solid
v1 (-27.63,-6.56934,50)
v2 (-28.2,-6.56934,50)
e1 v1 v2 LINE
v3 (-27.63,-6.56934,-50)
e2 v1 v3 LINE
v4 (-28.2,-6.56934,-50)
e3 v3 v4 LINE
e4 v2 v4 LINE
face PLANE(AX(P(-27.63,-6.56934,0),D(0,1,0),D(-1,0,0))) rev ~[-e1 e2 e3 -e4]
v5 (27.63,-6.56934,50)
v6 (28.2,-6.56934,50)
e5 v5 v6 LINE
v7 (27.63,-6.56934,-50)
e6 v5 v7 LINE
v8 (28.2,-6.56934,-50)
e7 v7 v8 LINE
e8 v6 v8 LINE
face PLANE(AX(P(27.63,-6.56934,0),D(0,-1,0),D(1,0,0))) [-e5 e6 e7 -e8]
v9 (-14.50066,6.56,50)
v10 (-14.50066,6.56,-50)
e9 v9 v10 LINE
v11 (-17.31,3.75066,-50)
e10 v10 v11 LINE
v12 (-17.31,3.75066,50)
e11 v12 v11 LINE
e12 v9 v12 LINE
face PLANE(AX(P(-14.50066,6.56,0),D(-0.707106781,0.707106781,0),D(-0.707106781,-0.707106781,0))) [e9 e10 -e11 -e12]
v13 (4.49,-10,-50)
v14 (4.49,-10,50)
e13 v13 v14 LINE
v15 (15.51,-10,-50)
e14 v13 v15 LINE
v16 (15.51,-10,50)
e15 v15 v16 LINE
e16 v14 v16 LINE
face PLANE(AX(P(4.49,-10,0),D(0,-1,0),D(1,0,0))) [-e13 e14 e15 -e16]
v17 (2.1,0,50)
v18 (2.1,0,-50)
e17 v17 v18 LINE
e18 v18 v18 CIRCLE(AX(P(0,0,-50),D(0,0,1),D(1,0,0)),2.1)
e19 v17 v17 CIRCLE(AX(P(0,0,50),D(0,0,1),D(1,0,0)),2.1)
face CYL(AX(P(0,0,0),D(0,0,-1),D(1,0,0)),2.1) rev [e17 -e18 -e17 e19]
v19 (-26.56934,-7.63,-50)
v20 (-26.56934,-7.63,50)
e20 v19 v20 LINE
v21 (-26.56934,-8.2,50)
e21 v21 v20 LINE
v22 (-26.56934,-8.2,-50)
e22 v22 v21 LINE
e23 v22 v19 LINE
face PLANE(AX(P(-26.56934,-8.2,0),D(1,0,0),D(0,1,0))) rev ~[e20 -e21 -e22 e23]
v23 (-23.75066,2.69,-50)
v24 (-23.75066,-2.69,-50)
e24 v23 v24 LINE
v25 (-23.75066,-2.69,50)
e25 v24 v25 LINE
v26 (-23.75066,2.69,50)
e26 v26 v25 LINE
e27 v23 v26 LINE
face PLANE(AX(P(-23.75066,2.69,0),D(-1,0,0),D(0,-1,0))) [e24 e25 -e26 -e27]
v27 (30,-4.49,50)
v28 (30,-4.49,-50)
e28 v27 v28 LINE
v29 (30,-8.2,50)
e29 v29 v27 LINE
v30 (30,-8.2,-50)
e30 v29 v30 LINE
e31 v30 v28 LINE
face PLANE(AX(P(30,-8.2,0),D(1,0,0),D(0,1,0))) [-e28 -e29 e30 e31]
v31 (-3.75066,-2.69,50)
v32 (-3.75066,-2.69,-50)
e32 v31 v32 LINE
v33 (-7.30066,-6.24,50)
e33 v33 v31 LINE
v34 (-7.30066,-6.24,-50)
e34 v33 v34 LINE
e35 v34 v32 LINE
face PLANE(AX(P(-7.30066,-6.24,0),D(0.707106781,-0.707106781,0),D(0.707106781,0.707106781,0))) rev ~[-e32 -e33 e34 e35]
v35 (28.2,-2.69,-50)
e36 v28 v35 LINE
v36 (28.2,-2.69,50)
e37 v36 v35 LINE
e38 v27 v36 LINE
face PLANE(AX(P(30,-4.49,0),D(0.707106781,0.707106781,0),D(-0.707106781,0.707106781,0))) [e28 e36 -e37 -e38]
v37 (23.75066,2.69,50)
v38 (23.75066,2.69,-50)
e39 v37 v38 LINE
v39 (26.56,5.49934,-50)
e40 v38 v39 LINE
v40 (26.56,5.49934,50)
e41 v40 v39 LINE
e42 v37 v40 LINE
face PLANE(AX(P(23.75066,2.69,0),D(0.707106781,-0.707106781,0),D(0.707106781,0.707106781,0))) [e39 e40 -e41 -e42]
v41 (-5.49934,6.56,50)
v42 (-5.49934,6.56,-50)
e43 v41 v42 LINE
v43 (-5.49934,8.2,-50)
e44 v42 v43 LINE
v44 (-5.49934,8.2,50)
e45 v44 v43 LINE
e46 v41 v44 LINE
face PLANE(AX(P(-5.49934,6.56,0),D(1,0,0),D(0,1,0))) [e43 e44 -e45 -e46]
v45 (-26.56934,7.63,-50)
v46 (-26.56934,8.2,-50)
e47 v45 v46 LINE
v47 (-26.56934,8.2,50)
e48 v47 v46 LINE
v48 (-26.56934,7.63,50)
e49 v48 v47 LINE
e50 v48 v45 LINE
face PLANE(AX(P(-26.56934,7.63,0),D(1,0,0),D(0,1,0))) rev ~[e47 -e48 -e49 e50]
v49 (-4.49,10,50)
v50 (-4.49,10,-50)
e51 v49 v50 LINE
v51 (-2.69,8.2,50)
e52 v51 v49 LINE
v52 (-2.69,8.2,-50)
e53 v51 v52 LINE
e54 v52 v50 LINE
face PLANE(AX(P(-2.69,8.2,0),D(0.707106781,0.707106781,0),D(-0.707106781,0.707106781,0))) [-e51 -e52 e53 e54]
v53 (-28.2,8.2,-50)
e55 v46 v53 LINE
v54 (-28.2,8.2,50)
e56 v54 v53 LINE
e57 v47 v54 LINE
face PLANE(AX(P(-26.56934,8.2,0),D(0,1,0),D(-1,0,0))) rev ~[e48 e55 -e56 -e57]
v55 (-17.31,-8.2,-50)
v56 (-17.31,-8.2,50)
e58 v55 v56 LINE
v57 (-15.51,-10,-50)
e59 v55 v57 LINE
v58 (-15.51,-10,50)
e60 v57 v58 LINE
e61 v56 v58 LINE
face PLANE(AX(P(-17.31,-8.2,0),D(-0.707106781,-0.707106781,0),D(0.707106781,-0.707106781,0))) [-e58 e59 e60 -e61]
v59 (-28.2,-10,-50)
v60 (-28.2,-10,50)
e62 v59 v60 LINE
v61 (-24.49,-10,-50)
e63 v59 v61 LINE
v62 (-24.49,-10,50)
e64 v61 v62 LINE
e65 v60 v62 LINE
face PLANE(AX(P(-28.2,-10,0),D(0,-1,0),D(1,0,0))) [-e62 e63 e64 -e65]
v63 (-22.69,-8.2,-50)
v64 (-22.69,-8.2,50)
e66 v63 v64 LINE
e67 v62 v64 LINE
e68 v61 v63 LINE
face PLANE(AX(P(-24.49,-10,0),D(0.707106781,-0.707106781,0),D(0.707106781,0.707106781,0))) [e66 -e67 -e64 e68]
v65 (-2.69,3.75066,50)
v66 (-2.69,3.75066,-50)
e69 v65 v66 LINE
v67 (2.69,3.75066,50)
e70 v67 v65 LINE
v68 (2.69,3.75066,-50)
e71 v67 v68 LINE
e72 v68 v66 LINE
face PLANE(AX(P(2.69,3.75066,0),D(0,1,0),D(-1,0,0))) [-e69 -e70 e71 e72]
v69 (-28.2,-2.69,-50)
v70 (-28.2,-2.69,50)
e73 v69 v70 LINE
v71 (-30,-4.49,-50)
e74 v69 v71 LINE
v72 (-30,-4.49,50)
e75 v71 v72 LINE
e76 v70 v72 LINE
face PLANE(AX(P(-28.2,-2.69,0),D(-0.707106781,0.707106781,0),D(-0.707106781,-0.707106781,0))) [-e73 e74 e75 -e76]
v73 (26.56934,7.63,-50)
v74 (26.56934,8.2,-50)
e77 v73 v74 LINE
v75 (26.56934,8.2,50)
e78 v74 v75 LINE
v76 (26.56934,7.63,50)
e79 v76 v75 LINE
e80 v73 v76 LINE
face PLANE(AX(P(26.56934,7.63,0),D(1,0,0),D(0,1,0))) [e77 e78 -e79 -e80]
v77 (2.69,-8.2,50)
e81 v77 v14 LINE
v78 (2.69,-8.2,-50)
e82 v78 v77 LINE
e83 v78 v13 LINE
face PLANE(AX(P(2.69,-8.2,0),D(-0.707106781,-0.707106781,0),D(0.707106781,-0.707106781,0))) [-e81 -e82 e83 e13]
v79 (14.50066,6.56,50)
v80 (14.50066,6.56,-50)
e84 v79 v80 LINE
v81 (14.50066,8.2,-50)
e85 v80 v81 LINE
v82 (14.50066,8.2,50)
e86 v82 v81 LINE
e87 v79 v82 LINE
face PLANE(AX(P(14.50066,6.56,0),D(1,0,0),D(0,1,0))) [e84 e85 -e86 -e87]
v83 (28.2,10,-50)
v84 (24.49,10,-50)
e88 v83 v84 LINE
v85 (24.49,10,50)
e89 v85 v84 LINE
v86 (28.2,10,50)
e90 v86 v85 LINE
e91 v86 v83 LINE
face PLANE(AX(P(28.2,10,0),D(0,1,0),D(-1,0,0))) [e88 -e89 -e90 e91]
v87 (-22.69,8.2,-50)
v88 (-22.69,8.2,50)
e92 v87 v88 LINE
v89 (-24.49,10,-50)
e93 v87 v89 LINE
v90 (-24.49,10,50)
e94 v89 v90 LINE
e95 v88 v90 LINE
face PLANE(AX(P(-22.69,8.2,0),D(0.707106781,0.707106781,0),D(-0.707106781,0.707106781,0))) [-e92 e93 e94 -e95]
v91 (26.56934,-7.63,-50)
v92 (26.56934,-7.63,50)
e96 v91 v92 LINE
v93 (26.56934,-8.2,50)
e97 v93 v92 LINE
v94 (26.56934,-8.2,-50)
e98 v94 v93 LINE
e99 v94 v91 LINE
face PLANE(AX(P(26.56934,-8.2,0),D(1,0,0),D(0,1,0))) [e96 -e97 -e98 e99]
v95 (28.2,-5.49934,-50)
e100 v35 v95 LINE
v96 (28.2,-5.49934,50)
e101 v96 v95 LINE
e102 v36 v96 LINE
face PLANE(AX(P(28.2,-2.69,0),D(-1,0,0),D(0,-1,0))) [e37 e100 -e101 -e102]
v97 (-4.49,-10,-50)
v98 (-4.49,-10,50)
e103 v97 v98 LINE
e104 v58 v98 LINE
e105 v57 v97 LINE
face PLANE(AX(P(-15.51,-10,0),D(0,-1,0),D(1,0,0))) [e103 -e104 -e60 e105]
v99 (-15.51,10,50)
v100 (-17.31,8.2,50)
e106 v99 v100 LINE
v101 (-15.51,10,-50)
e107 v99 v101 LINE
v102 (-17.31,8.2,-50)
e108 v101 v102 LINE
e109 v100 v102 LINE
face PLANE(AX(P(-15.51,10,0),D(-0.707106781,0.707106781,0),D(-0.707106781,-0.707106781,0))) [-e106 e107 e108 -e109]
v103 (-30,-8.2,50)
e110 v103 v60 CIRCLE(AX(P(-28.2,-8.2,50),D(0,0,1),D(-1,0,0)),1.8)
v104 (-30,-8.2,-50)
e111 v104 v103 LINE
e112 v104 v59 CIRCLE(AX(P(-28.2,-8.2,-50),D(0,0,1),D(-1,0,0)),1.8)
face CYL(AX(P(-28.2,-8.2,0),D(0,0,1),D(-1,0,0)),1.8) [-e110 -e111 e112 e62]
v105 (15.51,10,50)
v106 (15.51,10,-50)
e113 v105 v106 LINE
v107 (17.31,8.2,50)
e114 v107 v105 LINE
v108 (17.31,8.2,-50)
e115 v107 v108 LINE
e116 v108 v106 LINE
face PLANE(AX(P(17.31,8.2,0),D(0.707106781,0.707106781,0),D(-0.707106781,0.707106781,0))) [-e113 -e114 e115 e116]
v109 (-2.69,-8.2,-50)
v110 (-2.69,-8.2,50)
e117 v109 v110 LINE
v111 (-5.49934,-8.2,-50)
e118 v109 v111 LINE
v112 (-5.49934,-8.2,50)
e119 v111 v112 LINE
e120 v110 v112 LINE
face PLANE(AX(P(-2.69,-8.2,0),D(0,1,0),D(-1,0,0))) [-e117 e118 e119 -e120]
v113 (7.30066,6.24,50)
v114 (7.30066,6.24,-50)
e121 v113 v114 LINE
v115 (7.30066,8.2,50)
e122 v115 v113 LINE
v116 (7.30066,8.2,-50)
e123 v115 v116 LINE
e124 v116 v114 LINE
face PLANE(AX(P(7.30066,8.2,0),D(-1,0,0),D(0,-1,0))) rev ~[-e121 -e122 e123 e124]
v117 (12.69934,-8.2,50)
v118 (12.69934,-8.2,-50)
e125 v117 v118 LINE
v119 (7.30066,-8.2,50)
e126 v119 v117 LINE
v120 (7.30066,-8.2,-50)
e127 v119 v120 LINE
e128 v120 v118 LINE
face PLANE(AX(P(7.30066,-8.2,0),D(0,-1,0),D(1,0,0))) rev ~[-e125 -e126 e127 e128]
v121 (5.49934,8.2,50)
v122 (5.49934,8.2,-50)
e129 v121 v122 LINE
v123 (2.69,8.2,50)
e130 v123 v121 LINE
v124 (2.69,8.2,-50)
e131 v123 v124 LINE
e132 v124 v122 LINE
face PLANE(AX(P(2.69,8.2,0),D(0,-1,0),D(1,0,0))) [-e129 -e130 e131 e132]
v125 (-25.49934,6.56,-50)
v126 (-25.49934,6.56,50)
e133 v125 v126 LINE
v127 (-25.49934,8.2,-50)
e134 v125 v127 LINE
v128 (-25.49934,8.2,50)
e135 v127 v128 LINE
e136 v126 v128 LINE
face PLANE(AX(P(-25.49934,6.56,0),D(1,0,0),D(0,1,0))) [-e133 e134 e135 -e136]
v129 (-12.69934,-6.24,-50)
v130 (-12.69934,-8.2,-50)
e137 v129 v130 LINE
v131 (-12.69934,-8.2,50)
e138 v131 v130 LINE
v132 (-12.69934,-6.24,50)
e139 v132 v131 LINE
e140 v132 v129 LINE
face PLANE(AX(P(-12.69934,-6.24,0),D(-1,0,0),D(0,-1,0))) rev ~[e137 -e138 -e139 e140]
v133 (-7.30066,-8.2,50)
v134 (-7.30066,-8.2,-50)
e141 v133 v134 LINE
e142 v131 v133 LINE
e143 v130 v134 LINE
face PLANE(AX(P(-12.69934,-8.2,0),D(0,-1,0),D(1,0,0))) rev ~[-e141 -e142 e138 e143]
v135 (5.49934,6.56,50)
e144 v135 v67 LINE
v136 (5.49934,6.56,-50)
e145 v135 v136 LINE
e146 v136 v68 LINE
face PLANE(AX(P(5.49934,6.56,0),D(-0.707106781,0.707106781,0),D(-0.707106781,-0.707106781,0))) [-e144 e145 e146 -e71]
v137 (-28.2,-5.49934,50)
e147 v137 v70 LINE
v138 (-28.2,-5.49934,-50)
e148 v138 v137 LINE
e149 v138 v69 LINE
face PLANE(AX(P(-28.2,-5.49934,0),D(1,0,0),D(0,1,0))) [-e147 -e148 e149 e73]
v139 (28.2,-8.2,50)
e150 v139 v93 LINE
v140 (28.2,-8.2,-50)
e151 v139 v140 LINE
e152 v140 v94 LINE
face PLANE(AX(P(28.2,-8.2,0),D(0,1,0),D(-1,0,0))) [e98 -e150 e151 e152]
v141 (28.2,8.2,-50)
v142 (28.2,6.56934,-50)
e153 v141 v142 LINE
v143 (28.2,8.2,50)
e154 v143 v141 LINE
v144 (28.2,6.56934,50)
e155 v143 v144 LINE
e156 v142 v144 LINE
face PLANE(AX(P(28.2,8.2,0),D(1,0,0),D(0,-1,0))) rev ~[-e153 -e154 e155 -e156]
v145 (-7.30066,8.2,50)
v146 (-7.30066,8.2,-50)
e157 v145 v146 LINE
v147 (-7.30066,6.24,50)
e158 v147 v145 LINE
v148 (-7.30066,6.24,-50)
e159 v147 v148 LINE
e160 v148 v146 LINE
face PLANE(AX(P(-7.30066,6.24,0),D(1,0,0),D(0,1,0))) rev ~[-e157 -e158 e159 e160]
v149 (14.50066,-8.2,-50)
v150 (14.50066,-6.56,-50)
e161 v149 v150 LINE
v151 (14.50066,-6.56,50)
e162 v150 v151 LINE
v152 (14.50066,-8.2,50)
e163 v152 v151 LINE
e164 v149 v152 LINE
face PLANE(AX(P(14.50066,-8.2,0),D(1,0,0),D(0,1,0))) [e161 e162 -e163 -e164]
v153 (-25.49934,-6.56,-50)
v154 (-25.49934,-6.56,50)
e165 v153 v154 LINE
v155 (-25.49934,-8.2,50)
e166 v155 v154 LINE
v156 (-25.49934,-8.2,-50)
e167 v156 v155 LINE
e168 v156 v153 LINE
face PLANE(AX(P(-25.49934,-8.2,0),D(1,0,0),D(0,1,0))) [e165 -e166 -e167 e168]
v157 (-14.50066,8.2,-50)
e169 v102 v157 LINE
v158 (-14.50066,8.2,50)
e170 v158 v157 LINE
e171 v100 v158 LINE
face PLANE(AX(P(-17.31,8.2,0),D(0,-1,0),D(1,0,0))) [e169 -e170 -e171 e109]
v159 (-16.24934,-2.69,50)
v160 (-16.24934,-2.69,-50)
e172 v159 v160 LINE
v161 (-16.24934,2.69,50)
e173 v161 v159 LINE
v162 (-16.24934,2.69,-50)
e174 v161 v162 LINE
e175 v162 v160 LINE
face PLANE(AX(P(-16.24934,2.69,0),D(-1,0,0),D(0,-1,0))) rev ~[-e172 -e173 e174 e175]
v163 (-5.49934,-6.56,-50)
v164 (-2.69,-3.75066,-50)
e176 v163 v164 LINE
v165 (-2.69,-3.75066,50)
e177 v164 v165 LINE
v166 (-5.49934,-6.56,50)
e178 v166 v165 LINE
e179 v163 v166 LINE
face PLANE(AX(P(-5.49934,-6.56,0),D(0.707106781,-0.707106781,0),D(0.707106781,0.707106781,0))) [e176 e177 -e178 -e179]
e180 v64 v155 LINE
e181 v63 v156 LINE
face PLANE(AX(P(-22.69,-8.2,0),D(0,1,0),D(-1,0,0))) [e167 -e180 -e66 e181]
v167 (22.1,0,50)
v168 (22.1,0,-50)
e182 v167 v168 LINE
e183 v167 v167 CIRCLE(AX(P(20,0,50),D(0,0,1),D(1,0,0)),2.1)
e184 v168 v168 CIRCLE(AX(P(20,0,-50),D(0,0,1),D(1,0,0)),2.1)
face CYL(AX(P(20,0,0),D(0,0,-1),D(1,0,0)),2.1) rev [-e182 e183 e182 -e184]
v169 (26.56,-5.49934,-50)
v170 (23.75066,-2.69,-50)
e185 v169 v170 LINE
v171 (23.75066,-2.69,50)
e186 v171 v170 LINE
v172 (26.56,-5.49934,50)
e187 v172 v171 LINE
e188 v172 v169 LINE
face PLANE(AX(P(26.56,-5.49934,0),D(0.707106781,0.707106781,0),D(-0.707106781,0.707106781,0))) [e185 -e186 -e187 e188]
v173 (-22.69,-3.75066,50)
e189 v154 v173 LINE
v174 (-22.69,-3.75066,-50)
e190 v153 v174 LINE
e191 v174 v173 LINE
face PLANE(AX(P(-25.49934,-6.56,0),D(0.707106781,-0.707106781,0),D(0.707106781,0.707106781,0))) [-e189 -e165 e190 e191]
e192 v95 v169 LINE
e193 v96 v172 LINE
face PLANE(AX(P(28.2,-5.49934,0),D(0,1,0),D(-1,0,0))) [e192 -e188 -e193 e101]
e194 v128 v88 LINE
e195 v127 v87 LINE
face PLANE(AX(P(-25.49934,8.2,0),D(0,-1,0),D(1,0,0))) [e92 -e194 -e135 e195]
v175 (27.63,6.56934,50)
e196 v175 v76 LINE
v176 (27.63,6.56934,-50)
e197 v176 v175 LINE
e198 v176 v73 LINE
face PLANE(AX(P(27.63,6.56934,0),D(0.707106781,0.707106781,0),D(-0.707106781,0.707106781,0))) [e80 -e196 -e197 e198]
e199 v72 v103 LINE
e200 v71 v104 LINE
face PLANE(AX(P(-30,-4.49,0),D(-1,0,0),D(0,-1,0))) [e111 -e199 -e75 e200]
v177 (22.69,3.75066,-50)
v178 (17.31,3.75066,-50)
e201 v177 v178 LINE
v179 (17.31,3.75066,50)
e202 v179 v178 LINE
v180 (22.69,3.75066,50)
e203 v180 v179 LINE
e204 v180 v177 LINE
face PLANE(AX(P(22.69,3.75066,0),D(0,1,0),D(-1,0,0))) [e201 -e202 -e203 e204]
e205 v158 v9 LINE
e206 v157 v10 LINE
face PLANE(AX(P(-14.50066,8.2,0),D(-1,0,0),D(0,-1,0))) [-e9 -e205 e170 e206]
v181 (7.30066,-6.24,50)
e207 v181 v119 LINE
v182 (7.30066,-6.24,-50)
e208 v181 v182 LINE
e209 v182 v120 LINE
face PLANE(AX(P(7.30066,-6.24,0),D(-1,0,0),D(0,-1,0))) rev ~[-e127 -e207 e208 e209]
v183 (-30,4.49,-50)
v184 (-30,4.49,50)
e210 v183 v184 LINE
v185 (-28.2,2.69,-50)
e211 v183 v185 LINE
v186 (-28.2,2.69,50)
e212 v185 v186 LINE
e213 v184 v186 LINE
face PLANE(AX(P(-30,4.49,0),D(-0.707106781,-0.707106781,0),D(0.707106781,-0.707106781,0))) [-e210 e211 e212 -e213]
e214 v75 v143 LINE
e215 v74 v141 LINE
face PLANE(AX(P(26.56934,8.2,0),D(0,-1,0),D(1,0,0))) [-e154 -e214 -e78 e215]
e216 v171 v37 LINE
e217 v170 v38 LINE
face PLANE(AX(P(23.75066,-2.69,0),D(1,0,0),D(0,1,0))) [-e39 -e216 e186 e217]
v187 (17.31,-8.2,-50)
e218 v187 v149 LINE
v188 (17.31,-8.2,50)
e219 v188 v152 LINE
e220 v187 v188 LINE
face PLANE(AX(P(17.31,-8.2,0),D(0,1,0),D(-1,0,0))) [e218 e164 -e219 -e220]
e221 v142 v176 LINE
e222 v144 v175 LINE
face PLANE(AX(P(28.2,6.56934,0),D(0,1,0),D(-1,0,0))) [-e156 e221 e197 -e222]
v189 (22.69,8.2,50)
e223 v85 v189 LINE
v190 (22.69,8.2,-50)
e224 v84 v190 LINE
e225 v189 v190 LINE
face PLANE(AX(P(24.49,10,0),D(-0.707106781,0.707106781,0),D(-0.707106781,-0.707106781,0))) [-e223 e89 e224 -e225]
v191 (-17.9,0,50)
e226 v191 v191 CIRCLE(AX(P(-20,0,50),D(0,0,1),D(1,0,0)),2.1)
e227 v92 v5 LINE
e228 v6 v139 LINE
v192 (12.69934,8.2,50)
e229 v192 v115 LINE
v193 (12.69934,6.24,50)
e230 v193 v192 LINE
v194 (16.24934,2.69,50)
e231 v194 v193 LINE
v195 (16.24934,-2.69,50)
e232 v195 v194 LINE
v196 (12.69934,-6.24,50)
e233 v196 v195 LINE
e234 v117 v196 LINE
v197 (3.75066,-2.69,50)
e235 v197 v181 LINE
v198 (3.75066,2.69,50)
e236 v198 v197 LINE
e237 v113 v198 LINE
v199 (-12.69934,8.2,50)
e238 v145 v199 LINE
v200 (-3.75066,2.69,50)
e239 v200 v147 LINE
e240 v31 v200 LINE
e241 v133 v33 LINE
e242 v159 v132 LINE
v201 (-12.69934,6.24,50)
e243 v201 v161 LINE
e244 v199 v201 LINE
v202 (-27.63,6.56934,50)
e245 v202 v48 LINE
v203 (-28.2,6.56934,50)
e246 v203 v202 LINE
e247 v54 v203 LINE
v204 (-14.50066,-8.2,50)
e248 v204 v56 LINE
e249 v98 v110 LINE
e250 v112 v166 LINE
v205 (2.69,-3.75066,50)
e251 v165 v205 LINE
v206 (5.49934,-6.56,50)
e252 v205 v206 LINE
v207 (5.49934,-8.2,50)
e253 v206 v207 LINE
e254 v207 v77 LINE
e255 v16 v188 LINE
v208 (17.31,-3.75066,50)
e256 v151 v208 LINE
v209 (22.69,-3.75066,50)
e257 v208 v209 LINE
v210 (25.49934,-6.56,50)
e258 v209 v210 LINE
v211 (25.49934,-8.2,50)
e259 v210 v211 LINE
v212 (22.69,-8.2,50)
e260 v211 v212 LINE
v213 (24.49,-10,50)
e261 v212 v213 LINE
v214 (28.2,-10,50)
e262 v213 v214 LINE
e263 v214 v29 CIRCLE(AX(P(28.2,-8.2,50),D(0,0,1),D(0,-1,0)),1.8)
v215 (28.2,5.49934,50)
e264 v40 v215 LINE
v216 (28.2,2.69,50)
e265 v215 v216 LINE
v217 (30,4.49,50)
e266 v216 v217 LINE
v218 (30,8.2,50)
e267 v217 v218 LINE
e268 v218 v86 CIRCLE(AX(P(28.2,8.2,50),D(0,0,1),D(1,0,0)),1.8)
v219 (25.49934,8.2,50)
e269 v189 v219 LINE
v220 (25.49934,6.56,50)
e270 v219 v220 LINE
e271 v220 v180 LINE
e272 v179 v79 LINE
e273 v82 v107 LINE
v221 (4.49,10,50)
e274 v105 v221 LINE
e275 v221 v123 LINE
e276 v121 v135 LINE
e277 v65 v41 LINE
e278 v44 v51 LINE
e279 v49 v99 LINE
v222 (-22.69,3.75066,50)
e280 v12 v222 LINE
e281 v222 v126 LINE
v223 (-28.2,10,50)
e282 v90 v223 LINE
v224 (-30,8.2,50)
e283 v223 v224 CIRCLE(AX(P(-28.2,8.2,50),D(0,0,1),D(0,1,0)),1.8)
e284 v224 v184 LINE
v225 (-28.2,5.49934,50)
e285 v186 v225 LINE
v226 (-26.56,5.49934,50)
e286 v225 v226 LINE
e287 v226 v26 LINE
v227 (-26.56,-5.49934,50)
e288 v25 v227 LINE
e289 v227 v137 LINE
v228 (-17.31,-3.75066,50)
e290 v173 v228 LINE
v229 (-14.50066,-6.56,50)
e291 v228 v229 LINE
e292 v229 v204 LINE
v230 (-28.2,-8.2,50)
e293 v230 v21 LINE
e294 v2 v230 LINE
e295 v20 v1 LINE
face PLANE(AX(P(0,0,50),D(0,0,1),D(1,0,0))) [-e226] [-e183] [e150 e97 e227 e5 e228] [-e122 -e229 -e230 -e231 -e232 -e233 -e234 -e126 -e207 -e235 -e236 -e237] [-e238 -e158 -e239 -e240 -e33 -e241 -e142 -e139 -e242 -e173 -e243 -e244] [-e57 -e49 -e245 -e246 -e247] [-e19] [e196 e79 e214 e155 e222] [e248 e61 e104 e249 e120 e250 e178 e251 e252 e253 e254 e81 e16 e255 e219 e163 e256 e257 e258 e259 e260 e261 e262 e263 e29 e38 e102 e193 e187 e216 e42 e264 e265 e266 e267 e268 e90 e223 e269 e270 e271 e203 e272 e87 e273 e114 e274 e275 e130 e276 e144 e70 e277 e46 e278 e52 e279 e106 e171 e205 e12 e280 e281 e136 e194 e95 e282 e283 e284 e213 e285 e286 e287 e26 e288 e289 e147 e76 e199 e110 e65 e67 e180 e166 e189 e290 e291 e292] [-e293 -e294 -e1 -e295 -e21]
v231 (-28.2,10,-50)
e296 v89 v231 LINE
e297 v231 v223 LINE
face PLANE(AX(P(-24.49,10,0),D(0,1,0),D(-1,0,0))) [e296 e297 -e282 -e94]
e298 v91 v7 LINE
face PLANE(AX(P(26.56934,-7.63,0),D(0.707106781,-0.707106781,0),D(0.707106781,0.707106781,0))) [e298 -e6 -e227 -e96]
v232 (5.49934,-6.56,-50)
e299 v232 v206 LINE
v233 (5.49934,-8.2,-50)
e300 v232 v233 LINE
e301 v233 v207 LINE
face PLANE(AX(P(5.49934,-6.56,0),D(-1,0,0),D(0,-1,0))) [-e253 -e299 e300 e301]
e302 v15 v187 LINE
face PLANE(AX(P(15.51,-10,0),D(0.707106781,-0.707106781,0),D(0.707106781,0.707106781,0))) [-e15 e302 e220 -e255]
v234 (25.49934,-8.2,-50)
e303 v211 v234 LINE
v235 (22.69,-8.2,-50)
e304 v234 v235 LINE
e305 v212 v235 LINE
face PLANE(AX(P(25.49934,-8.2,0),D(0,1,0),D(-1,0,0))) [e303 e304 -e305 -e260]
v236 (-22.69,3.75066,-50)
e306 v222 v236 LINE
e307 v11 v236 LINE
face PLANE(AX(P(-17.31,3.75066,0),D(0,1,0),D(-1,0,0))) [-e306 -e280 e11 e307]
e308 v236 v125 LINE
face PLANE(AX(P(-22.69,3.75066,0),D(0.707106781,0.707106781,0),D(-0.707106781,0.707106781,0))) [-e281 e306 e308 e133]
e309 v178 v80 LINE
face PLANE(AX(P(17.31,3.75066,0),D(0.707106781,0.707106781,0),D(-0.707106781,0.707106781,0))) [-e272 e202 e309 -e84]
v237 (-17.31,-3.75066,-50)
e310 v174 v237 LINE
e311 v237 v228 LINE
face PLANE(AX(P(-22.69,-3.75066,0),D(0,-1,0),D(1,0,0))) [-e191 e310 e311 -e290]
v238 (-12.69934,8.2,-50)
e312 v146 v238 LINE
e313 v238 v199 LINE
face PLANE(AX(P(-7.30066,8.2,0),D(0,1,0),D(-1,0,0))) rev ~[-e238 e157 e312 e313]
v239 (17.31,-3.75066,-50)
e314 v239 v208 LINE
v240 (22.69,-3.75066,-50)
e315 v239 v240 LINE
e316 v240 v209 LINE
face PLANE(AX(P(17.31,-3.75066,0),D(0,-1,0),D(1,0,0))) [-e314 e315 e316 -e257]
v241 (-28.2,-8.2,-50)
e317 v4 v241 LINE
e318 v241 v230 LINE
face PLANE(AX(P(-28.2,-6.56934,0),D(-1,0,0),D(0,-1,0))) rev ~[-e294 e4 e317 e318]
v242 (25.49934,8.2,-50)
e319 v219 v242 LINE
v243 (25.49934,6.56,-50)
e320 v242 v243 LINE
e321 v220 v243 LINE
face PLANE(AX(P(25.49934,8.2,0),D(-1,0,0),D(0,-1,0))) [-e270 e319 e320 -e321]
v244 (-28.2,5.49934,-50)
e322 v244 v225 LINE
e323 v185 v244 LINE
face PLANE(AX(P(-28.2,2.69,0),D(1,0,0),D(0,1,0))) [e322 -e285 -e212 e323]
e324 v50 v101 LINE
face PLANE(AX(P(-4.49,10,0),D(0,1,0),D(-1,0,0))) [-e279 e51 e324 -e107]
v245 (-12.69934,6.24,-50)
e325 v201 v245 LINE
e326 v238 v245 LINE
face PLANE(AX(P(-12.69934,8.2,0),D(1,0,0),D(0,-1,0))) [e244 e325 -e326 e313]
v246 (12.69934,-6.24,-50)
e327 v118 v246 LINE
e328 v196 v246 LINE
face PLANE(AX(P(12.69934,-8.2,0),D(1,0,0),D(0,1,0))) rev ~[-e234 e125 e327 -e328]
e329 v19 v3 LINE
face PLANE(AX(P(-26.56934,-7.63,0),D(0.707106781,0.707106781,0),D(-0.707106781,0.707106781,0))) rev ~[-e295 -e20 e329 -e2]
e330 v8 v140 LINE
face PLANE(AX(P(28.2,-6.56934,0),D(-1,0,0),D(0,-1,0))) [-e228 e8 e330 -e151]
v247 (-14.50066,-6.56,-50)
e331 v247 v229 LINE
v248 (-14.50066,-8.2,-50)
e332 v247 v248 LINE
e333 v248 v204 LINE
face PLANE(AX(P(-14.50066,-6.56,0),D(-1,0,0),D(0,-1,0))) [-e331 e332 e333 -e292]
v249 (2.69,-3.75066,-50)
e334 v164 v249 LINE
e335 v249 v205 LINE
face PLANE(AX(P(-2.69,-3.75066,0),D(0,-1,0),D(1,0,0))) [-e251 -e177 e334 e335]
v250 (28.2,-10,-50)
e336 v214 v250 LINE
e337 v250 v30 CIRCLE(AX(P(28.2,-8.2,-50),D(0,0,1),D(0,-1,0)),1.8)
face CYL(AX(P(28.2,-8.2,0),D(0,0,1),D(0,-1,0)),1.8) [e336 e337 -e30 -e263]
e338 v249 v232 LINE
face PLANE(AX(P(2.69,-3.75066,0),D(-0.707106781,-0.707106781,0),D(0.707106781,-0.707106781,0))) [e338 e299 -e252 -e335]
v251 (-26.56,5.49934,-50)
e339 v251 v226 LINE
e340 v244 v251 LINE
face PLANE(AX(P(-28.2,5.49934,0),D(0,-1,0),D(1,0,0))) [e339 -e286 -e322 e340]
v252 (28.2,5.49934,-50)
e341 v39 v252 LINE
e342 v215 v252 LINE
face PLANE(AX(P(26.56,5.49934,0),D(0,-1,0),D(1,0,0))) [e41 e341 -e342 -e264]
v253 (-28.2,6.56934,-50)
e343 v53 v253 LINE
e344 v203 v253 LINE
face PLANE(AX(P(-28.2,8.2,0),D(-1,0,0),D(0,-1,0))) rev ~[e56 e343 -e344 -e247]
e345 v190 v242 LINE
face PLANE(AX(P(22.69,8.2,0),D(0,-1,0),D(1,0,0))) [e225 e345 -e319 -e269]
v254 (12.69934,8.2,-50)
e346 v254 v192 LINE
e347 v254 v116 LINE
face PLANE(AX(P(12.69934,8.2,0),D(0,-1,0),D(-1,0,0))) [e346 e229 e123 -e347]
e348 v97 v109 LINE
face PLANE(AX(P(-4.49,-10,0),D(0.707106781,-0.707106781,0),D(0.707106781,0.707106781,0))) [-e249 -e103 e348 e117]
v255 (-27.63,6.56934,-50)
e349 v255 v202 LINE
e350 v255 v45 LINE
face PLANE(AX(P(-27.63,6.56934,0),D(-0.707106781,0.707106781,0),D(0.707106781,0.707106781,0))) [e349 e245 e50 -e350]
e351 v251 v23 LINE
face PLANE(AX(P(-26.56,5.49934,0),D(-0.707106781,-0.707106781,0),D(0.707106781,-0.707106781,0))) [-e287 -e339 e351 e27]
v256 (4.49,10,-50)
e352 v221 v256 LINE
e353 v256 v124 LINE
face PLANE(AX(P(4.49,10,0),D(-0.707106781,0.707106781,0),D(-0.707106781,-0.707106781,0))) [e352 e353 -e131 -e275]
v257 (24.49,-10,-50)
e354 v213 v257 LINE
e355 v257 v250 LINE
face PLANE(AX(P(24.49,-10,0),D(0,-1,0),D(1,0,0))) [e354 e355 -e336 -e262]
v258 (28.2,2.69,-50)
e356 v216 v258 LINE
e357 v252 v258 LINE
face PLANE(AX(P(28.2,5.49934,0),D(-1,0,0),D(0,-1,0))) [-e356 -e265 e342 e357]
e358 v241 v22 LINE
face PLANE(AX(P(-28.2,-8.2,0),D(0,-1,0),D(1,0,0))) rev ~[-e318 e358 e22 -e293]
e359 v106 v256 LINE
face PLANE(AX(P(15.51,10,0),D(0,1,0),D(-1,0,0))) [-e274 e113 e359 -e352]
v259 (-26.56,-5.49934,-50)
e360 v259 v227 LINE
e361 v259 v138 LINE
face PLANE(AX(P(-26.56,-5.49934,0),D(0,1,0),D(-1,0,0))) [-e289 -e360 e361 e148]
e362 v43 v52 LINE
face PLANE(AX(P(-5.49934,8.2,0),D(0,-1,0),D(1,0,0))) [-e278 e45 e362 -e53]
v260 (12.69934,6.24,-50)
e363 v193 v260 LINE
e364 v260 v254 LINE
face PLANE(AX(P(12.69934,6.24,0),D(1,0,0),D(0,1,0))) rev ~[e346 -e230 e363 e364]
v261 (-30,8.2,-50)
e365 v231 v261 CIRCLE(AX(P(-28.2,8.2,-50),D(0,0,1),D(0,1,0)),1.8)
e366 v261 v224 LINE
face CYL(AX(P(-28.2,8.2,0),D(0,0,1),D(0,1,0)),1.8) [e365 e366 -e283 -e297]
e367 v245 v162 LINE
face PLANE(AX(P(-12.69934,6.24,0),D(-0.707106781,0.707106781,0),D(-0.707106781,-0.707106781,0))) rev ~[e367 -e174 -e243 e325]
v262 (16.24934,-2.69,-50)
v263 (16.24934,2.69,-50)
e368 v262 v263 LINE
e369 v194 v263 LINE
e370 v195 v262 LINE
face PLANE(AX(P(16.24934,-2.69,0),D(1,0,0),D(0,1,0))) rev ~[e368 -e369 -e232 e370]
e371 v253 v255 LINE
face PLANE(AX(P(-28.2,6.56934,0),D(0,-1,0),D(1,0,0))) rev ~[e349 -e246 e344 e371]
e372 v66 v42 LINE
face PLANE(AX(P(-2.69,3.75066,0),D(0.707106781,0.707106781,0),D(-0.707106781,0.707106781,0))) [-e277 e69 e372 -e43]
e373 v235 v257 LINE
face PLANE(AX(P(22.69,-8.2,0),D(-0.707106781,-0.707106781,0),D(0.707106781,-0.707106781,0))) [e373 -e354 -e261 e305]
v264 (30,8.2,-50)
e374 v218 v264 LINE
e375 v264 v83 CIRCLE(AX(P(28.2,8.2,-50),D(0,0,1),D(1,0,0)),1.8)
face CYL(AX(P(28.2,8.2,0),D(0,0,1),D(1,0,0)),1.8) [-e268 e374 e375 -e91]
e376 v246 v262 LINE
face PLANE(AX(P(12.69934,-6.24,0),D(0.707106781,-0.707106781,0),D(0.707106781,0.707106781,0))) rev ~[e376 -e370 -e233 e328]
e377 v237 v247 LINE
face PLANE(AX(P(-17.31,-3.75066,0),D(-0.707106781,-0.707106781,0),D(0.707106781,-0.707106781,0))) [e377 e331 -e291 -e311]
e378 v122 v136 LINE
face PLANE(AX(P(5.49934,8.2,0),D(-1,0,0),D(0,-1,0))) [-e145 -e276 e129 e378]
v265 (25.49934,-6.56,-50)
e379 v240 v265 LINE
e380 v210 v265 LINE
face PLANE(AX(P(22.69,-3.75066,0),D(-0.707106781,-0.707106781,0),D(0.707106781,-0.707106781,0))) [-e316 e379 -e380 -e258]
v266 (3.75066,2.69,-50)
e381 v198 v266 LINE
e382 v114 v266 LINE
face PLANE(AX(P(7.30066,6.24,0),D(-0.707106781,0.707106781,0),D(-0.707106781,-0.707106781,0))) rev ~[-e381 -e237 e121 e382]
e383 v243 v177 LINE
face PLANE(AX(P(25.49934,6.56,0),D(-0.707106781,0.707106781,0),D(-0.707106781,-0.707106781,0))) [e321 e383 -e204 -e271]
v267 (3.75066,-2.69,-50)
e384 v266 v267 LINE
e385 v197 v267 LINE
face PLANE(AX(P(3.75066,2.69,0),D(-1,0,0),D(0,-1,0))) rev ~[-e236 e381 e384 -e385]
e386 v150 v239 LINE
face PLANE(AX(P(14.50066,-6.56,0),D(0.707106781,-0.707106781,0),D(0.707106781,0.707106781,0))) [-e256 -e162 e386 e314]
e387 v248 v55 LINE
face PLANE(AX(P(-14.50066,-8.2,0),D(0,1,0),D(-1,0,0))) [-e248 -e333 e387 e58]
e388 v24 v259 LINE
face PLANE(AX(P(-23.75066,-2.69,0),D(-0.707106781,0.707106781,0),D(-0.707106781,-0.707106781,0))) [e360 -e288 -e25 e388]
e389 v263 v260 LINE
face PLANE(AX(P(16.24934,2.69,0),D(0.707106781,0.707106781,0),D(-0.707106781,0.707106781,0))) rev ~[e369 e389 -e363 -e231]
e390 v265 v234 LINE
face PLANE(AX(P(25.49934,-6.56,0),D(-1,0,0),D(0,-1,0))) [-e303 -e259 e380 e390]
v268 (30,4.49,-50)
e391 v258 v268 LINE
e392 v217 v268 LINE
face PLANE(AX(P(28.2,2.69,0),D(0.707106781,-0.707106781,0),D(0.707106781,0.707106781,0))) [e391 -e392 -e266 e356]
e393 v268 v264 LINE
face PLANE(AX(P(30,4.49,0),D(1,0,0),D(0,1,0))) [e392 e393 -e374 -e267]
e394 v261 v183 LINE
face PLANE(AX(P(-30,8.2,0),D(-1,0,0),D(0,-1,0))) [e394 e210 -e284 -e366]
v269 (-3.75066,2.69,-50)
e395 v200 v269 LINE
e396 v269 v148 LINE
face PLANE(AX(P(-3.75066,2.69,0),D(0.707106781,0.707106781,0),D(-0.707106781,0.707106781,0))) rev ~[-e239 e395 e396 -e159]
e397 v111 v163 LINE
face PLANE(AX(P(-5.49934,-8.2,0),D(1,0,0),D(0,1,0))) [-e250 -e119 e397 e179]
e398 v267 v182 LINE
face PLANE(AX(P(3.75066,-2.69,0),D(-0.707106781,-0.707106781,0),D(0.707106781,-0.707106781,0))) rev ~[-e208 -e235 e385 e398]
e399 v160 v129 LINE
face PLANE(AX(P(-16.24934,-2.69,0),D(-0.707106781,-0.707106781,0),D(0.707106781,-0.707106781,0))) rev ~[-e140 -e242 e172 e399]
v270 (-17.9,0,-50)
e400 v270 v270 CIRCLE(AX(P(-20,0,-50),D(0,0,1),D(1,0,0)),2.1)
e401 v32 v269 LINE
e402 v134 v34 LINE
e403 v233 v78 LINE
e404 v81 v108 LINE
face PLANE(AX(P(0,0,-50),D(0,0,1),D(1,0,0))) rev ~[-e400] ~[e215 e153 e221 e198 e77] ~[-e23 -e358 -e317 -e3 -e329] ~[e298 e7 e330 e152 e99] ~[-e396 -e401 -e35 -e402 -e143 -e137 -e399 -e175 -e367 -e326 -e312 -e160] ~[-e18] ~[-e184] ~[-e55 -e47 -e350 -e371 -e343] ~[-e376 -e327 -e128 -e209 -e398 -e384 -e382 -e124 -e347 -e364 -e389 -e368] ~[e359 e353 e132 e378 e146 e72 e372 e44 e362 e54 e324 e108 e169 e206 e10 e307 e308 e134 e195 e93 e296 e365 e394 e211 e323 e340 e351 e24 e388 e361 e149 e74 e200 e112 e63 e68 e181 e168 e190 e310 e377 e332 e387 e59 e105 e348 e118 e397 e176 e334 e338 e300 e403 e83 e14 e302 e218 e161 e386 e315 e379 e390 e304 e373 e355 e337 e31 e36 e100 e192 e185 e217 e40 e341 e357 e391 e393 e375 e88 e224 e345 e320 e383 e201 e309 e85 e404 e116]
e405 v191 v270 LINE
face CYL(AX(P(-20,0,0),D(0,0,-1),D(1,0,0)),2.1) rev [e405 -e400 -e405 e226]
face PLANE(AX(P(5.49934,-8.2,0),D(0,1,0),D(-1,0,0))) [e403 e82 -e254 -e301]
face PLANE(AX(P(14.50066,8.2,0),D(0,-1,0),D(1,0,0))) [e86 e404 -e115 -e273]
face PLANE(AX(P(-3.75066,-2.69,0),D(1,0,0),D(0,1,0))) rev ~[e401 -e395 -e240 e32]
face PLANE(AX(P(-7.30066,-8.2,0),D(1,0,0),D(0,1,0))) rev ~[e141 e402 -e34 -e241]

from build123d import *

# Parameters (mm, degrees)
ESQUISSE1_R        = 2.1
BOSS_EXTRU_1_DEPTH = 50


with BuildPart() as part:
    # Esquisse1 → Boss.-Extru.1 (new, symmetric)
    with BuildSketch(Plane.XY):
        with BuildLine():
            Line((-20, 3.750660172), (-22.69, 3.750660172))
            Line((-22.69, 3.750660172), (-25.499339828, 6.56))
            Line((-25.499339828, 6.56), (-25.499339828, 8.2))
            Line((-25.499339828, 8.2), (-22.69, 8.2))
            Line((-22.69, 8.2), (-24.49, 10))
            Line((-24.49, 10), (-28.2, 10))
            ThreePointArc((-28.2, 10), (-29.472792206, 9.472792206), (-30, 8.2))
            Line((-30, 8.2), (-30, 4.49))
            Line((-30, 4.49), (-28.2, 2.69))
            Line((-28.2, 2.69), (-28.2, 5.499339828))
            Line((-28.2, 5.499339828), (-26.56, 5.499339828))
            Line((-26.56, 5.499339828), (-23.750660172, 2.69))
            Line((-23.750660172, 2.69), (-23.750660172, 0))
            Line((-23.750660172, 0), (-23.750660172, -2.69))
            Line((-23.750660172, -2.69), (-26.56, -5.499339828))
            Line((-26.56, -5.499339828), (-28.2, -5.499339828))
            Line((-28.2, -5.499339828), (-28.2, -2.69))
            Line((-28.2, -2.69), (-30, -4.49))
            Line((-30, -4.49), (-30, -8.2))
            ThreePointArc((-30, -8.2), (-29.472792206, -9.472792206), (-28.2, -10))
            Line((-28.2, -10), (-24.49, -10))
            Line((-24.49, -10), (-22.69, -8.2))
            Line((-22.69, -8.2), (-25.499339828, -8.2))
            Line((-25.499339828, -8.2), (-25.499339828, -6.56))
            Line((-25.499339828, -6.56), (-22.69, -3.750660172))
            Line((-22.69, -3.750660172), (-20, -3.750660172))
            Line((-20, -3.750660172), (-17.31, -3.750660172))
            Line((-17.31, -3.750660172), (-14.500660172, -6.56))
            Line((-14.500660172, -6.56), (-14.500660172, -8.2))
            Line((-14.500660172, -8.2), (-17.31, -8.2))
            Line((-17.31, -8.2), (-15.51, -10))
            Line((-15.51, -10), (-4.49, -10))
            Line((-4.49, -10), (-2.69, -8.2))
            Line((-2.69, -8.2), (-5.499339828, -8.2))
            Line((-5.499339828, -8.2), (-5.499339828, -6.56))
            Line((-5.499339828, -6.56), (-2.69, -3.750660172))
            Line((-2.69, -3.750660172), (2.69, -3.750660172))
            Line((2.69, -3.750660172), (5.499339828, -6.56))
            Line((5.499339828, -6.56), (5.499339828, -8.2))
            Line((5.499339828, -8.2), (2.69, -8.2))
            Line((2.69, -8.2), (4.49, -10))
            Line((4.49, -10), (15.51, -10))
            Line((15.51, -10), (17.31, -8.2))
            Line((17.31, -8.2), (14.500660172, -8.2))
            Line((14.500660172, -8.2), (14.500660172, -6.56))
            Line((14.500660172, -6.56), (17.31, -3.750660172))
            Line((17.31, -3.750660172), (20, -3.750660172))
            Line((20, -3.750660172), (22.69, -3.750660172))
            Line((22.69, -3.750660172), (25.499339828, -6.56))
            Line((25.499339828, -6.56), (25.499339828, -8.2))
            Line((25.499339828, -8.2), (22.69, -8.2))
            Line((22.69, -8.2), (24.49, -10))
            Line((24.49, -10), (28.2, -10))
            ThreePointArc((28.2, -10), (29.472792206, -9.472792206), (30, -8.2))
            Line((30, -8.2), (30, -4.49))
            Line((30, -4.49), (28.2, -2.69))
            Line((28.2, -2.69), (28.2, -5.499339828))
            Line((28.2, -5.499339828), (26.56, -5.499339828))
            Line((26.56, -5.499339828), (23.750660172, -2.69))
            Line((23.750660172, -2.69), (23.750660172, 0))
            Line((23.750660172, 0), (23.750660172, 2.69))
            Line((23.750660172, 2.69), (26.56, 5.499339828))
            Line((26.56, 5.499339828), (28.2, 5.499339828))
            Line((28.2, 5.499339828), (28.2, 2.69))
            Line((28.2, 2.69), (30, 4.49))
            Line((30, 4.49), (30, 8.2))
            ThreePointArc((30, 8.2), (29.472792206, 9.472792206), (28.2, 10))
            Line((28.2, 10), (24.49, 10))
            Line((24.49, 10), (22.69, 8.2))
            Line((22.69, 8.2), (25.499339828, 8.2))
            Line((25.499339828, 8.2), (25.499339828, 6.56))
            Line((25.499339828, 6.56), (22.69, 3.750660172))
            Line((22.69, 3.750660172), (20, 3.750660172))
            Line((20, 3.750660172), (17.31, 3.750660172))
            Line((17.31, 3.750660172), (14.500660172, 6.56))
            Line((14.500660172, 6.56), (14.500660172, 8.2))
            Line((14.500660172, 8.2), (17.31, 8.2))
            Line((17.31, 8.2), (15.51, 10))
            Line((15.51, 10), (4.49, 10))
            Line((4.49, 10), (2.69, 8.2))
            Line((2.69, 8.2), (5.499339828, 8.2))
            Line((5.499339828, 8.2), (5.499339828, 6.56))
            Line((5.499339828, 6.56), (2.69, 3.750660172))
            Line((2.69, 3.750660172), (-2.69, 3.750660172))
            Line((-2.69, 3.750660172), (-5.499339828, 6.56))
            Line((-5.499339828, 6.56), (-5.499339828, 8.2))
            Line((-5.499339828, 8.2), (-2.69, 8.2))
            Line((-2.69, 8.2), (-4.49, 10))
            Line((-4.49, 10), (-15.51, 10))
            Line((-15.51, 10), (-17.31, 8.2))
            Line((-17.31, 8.2), (-14.500660172, 8.2))
            Line((-14.500660172, 8.2), (-14.500660172, 6.56))
            Line((-14.500660172, 6.56), (-17.31, 3.750660172))
            Line((-17.31, 3.750660172), (-20, 3.750660172))
        make_face()
        Circle(ESQUISSE1_R, mode=Mode.SUBTRACT)
        with Locations((-20, 0)):
            Circle(ESQUISSE1_R, mode=Mode.SUBTRACT)
        with Locations((20, 0)):
            Circle(ESQUISSE1_R, mode=Mode.SUBTRACT)
        Polygon((-28.2, 8.2), (-28.2, 6.569339828), (-27.63, 6.569339828), (-26.569339828, 7.63), (-26.569339828, 8.2), align=None, mode=Mode.SUBTRACT)
        Polygon((-26.569339828, -7.63), (-27.63, -6.569339828), (-28.2, -6.569339828), (-28.2, -8.2), (-26.569339828, -8.2), align=None, mode=Mode.SUBTRACT)
        Polygon((-7.300660172, -8.2), (-7.300660172, -6.24), (-3.750660172, -2.69), (-3.750660172, 2.69), (-7.300660172, 6.24), (-7.300660172, 8.2), (-12.699339828, 8.2), (-12.699339828, 6.24), (-16.249339828, 2.69), (-16.249339828, -2.69), (-12.699339828, -6.24), (-12.699339828, -8.2), align=None, mode=Mode.SUBTRACT)
        Polygon((26.569339828, 8.2), (28.2, 8.2), (28.2, 6.569339828), (27.63, 6.569339828), (26.569339828, 7.63), align=None, mode=Mode.SUBTRACT)
        Polygon((26.569339828, -8.2), (26.569339828, -7.63), (27.63, -6.569339828), (28.2, -6.569339828), (28.2, -8.2), align=None, mode=Mode.SUBTRACT)
        Polygon((7.300660172, 8.2), (7.300660172, 6.24), (3.750660172, 2.69), (3.750660172, -2.69), (7.300660172, -6.24), (7.300660172, -8.2), (12.699339828, -8.2), (12.699339828, -6.24), (16.249339828, -2.69), (16.249339828, 2.69), (12.699339828, 6.24), (12.699339828, 8.2), align=None, mode=Mode.SUBTRACT)
    extrude(amount=BOSS_EXTRU_1_DEPTH, both=True)


solid = part.part
